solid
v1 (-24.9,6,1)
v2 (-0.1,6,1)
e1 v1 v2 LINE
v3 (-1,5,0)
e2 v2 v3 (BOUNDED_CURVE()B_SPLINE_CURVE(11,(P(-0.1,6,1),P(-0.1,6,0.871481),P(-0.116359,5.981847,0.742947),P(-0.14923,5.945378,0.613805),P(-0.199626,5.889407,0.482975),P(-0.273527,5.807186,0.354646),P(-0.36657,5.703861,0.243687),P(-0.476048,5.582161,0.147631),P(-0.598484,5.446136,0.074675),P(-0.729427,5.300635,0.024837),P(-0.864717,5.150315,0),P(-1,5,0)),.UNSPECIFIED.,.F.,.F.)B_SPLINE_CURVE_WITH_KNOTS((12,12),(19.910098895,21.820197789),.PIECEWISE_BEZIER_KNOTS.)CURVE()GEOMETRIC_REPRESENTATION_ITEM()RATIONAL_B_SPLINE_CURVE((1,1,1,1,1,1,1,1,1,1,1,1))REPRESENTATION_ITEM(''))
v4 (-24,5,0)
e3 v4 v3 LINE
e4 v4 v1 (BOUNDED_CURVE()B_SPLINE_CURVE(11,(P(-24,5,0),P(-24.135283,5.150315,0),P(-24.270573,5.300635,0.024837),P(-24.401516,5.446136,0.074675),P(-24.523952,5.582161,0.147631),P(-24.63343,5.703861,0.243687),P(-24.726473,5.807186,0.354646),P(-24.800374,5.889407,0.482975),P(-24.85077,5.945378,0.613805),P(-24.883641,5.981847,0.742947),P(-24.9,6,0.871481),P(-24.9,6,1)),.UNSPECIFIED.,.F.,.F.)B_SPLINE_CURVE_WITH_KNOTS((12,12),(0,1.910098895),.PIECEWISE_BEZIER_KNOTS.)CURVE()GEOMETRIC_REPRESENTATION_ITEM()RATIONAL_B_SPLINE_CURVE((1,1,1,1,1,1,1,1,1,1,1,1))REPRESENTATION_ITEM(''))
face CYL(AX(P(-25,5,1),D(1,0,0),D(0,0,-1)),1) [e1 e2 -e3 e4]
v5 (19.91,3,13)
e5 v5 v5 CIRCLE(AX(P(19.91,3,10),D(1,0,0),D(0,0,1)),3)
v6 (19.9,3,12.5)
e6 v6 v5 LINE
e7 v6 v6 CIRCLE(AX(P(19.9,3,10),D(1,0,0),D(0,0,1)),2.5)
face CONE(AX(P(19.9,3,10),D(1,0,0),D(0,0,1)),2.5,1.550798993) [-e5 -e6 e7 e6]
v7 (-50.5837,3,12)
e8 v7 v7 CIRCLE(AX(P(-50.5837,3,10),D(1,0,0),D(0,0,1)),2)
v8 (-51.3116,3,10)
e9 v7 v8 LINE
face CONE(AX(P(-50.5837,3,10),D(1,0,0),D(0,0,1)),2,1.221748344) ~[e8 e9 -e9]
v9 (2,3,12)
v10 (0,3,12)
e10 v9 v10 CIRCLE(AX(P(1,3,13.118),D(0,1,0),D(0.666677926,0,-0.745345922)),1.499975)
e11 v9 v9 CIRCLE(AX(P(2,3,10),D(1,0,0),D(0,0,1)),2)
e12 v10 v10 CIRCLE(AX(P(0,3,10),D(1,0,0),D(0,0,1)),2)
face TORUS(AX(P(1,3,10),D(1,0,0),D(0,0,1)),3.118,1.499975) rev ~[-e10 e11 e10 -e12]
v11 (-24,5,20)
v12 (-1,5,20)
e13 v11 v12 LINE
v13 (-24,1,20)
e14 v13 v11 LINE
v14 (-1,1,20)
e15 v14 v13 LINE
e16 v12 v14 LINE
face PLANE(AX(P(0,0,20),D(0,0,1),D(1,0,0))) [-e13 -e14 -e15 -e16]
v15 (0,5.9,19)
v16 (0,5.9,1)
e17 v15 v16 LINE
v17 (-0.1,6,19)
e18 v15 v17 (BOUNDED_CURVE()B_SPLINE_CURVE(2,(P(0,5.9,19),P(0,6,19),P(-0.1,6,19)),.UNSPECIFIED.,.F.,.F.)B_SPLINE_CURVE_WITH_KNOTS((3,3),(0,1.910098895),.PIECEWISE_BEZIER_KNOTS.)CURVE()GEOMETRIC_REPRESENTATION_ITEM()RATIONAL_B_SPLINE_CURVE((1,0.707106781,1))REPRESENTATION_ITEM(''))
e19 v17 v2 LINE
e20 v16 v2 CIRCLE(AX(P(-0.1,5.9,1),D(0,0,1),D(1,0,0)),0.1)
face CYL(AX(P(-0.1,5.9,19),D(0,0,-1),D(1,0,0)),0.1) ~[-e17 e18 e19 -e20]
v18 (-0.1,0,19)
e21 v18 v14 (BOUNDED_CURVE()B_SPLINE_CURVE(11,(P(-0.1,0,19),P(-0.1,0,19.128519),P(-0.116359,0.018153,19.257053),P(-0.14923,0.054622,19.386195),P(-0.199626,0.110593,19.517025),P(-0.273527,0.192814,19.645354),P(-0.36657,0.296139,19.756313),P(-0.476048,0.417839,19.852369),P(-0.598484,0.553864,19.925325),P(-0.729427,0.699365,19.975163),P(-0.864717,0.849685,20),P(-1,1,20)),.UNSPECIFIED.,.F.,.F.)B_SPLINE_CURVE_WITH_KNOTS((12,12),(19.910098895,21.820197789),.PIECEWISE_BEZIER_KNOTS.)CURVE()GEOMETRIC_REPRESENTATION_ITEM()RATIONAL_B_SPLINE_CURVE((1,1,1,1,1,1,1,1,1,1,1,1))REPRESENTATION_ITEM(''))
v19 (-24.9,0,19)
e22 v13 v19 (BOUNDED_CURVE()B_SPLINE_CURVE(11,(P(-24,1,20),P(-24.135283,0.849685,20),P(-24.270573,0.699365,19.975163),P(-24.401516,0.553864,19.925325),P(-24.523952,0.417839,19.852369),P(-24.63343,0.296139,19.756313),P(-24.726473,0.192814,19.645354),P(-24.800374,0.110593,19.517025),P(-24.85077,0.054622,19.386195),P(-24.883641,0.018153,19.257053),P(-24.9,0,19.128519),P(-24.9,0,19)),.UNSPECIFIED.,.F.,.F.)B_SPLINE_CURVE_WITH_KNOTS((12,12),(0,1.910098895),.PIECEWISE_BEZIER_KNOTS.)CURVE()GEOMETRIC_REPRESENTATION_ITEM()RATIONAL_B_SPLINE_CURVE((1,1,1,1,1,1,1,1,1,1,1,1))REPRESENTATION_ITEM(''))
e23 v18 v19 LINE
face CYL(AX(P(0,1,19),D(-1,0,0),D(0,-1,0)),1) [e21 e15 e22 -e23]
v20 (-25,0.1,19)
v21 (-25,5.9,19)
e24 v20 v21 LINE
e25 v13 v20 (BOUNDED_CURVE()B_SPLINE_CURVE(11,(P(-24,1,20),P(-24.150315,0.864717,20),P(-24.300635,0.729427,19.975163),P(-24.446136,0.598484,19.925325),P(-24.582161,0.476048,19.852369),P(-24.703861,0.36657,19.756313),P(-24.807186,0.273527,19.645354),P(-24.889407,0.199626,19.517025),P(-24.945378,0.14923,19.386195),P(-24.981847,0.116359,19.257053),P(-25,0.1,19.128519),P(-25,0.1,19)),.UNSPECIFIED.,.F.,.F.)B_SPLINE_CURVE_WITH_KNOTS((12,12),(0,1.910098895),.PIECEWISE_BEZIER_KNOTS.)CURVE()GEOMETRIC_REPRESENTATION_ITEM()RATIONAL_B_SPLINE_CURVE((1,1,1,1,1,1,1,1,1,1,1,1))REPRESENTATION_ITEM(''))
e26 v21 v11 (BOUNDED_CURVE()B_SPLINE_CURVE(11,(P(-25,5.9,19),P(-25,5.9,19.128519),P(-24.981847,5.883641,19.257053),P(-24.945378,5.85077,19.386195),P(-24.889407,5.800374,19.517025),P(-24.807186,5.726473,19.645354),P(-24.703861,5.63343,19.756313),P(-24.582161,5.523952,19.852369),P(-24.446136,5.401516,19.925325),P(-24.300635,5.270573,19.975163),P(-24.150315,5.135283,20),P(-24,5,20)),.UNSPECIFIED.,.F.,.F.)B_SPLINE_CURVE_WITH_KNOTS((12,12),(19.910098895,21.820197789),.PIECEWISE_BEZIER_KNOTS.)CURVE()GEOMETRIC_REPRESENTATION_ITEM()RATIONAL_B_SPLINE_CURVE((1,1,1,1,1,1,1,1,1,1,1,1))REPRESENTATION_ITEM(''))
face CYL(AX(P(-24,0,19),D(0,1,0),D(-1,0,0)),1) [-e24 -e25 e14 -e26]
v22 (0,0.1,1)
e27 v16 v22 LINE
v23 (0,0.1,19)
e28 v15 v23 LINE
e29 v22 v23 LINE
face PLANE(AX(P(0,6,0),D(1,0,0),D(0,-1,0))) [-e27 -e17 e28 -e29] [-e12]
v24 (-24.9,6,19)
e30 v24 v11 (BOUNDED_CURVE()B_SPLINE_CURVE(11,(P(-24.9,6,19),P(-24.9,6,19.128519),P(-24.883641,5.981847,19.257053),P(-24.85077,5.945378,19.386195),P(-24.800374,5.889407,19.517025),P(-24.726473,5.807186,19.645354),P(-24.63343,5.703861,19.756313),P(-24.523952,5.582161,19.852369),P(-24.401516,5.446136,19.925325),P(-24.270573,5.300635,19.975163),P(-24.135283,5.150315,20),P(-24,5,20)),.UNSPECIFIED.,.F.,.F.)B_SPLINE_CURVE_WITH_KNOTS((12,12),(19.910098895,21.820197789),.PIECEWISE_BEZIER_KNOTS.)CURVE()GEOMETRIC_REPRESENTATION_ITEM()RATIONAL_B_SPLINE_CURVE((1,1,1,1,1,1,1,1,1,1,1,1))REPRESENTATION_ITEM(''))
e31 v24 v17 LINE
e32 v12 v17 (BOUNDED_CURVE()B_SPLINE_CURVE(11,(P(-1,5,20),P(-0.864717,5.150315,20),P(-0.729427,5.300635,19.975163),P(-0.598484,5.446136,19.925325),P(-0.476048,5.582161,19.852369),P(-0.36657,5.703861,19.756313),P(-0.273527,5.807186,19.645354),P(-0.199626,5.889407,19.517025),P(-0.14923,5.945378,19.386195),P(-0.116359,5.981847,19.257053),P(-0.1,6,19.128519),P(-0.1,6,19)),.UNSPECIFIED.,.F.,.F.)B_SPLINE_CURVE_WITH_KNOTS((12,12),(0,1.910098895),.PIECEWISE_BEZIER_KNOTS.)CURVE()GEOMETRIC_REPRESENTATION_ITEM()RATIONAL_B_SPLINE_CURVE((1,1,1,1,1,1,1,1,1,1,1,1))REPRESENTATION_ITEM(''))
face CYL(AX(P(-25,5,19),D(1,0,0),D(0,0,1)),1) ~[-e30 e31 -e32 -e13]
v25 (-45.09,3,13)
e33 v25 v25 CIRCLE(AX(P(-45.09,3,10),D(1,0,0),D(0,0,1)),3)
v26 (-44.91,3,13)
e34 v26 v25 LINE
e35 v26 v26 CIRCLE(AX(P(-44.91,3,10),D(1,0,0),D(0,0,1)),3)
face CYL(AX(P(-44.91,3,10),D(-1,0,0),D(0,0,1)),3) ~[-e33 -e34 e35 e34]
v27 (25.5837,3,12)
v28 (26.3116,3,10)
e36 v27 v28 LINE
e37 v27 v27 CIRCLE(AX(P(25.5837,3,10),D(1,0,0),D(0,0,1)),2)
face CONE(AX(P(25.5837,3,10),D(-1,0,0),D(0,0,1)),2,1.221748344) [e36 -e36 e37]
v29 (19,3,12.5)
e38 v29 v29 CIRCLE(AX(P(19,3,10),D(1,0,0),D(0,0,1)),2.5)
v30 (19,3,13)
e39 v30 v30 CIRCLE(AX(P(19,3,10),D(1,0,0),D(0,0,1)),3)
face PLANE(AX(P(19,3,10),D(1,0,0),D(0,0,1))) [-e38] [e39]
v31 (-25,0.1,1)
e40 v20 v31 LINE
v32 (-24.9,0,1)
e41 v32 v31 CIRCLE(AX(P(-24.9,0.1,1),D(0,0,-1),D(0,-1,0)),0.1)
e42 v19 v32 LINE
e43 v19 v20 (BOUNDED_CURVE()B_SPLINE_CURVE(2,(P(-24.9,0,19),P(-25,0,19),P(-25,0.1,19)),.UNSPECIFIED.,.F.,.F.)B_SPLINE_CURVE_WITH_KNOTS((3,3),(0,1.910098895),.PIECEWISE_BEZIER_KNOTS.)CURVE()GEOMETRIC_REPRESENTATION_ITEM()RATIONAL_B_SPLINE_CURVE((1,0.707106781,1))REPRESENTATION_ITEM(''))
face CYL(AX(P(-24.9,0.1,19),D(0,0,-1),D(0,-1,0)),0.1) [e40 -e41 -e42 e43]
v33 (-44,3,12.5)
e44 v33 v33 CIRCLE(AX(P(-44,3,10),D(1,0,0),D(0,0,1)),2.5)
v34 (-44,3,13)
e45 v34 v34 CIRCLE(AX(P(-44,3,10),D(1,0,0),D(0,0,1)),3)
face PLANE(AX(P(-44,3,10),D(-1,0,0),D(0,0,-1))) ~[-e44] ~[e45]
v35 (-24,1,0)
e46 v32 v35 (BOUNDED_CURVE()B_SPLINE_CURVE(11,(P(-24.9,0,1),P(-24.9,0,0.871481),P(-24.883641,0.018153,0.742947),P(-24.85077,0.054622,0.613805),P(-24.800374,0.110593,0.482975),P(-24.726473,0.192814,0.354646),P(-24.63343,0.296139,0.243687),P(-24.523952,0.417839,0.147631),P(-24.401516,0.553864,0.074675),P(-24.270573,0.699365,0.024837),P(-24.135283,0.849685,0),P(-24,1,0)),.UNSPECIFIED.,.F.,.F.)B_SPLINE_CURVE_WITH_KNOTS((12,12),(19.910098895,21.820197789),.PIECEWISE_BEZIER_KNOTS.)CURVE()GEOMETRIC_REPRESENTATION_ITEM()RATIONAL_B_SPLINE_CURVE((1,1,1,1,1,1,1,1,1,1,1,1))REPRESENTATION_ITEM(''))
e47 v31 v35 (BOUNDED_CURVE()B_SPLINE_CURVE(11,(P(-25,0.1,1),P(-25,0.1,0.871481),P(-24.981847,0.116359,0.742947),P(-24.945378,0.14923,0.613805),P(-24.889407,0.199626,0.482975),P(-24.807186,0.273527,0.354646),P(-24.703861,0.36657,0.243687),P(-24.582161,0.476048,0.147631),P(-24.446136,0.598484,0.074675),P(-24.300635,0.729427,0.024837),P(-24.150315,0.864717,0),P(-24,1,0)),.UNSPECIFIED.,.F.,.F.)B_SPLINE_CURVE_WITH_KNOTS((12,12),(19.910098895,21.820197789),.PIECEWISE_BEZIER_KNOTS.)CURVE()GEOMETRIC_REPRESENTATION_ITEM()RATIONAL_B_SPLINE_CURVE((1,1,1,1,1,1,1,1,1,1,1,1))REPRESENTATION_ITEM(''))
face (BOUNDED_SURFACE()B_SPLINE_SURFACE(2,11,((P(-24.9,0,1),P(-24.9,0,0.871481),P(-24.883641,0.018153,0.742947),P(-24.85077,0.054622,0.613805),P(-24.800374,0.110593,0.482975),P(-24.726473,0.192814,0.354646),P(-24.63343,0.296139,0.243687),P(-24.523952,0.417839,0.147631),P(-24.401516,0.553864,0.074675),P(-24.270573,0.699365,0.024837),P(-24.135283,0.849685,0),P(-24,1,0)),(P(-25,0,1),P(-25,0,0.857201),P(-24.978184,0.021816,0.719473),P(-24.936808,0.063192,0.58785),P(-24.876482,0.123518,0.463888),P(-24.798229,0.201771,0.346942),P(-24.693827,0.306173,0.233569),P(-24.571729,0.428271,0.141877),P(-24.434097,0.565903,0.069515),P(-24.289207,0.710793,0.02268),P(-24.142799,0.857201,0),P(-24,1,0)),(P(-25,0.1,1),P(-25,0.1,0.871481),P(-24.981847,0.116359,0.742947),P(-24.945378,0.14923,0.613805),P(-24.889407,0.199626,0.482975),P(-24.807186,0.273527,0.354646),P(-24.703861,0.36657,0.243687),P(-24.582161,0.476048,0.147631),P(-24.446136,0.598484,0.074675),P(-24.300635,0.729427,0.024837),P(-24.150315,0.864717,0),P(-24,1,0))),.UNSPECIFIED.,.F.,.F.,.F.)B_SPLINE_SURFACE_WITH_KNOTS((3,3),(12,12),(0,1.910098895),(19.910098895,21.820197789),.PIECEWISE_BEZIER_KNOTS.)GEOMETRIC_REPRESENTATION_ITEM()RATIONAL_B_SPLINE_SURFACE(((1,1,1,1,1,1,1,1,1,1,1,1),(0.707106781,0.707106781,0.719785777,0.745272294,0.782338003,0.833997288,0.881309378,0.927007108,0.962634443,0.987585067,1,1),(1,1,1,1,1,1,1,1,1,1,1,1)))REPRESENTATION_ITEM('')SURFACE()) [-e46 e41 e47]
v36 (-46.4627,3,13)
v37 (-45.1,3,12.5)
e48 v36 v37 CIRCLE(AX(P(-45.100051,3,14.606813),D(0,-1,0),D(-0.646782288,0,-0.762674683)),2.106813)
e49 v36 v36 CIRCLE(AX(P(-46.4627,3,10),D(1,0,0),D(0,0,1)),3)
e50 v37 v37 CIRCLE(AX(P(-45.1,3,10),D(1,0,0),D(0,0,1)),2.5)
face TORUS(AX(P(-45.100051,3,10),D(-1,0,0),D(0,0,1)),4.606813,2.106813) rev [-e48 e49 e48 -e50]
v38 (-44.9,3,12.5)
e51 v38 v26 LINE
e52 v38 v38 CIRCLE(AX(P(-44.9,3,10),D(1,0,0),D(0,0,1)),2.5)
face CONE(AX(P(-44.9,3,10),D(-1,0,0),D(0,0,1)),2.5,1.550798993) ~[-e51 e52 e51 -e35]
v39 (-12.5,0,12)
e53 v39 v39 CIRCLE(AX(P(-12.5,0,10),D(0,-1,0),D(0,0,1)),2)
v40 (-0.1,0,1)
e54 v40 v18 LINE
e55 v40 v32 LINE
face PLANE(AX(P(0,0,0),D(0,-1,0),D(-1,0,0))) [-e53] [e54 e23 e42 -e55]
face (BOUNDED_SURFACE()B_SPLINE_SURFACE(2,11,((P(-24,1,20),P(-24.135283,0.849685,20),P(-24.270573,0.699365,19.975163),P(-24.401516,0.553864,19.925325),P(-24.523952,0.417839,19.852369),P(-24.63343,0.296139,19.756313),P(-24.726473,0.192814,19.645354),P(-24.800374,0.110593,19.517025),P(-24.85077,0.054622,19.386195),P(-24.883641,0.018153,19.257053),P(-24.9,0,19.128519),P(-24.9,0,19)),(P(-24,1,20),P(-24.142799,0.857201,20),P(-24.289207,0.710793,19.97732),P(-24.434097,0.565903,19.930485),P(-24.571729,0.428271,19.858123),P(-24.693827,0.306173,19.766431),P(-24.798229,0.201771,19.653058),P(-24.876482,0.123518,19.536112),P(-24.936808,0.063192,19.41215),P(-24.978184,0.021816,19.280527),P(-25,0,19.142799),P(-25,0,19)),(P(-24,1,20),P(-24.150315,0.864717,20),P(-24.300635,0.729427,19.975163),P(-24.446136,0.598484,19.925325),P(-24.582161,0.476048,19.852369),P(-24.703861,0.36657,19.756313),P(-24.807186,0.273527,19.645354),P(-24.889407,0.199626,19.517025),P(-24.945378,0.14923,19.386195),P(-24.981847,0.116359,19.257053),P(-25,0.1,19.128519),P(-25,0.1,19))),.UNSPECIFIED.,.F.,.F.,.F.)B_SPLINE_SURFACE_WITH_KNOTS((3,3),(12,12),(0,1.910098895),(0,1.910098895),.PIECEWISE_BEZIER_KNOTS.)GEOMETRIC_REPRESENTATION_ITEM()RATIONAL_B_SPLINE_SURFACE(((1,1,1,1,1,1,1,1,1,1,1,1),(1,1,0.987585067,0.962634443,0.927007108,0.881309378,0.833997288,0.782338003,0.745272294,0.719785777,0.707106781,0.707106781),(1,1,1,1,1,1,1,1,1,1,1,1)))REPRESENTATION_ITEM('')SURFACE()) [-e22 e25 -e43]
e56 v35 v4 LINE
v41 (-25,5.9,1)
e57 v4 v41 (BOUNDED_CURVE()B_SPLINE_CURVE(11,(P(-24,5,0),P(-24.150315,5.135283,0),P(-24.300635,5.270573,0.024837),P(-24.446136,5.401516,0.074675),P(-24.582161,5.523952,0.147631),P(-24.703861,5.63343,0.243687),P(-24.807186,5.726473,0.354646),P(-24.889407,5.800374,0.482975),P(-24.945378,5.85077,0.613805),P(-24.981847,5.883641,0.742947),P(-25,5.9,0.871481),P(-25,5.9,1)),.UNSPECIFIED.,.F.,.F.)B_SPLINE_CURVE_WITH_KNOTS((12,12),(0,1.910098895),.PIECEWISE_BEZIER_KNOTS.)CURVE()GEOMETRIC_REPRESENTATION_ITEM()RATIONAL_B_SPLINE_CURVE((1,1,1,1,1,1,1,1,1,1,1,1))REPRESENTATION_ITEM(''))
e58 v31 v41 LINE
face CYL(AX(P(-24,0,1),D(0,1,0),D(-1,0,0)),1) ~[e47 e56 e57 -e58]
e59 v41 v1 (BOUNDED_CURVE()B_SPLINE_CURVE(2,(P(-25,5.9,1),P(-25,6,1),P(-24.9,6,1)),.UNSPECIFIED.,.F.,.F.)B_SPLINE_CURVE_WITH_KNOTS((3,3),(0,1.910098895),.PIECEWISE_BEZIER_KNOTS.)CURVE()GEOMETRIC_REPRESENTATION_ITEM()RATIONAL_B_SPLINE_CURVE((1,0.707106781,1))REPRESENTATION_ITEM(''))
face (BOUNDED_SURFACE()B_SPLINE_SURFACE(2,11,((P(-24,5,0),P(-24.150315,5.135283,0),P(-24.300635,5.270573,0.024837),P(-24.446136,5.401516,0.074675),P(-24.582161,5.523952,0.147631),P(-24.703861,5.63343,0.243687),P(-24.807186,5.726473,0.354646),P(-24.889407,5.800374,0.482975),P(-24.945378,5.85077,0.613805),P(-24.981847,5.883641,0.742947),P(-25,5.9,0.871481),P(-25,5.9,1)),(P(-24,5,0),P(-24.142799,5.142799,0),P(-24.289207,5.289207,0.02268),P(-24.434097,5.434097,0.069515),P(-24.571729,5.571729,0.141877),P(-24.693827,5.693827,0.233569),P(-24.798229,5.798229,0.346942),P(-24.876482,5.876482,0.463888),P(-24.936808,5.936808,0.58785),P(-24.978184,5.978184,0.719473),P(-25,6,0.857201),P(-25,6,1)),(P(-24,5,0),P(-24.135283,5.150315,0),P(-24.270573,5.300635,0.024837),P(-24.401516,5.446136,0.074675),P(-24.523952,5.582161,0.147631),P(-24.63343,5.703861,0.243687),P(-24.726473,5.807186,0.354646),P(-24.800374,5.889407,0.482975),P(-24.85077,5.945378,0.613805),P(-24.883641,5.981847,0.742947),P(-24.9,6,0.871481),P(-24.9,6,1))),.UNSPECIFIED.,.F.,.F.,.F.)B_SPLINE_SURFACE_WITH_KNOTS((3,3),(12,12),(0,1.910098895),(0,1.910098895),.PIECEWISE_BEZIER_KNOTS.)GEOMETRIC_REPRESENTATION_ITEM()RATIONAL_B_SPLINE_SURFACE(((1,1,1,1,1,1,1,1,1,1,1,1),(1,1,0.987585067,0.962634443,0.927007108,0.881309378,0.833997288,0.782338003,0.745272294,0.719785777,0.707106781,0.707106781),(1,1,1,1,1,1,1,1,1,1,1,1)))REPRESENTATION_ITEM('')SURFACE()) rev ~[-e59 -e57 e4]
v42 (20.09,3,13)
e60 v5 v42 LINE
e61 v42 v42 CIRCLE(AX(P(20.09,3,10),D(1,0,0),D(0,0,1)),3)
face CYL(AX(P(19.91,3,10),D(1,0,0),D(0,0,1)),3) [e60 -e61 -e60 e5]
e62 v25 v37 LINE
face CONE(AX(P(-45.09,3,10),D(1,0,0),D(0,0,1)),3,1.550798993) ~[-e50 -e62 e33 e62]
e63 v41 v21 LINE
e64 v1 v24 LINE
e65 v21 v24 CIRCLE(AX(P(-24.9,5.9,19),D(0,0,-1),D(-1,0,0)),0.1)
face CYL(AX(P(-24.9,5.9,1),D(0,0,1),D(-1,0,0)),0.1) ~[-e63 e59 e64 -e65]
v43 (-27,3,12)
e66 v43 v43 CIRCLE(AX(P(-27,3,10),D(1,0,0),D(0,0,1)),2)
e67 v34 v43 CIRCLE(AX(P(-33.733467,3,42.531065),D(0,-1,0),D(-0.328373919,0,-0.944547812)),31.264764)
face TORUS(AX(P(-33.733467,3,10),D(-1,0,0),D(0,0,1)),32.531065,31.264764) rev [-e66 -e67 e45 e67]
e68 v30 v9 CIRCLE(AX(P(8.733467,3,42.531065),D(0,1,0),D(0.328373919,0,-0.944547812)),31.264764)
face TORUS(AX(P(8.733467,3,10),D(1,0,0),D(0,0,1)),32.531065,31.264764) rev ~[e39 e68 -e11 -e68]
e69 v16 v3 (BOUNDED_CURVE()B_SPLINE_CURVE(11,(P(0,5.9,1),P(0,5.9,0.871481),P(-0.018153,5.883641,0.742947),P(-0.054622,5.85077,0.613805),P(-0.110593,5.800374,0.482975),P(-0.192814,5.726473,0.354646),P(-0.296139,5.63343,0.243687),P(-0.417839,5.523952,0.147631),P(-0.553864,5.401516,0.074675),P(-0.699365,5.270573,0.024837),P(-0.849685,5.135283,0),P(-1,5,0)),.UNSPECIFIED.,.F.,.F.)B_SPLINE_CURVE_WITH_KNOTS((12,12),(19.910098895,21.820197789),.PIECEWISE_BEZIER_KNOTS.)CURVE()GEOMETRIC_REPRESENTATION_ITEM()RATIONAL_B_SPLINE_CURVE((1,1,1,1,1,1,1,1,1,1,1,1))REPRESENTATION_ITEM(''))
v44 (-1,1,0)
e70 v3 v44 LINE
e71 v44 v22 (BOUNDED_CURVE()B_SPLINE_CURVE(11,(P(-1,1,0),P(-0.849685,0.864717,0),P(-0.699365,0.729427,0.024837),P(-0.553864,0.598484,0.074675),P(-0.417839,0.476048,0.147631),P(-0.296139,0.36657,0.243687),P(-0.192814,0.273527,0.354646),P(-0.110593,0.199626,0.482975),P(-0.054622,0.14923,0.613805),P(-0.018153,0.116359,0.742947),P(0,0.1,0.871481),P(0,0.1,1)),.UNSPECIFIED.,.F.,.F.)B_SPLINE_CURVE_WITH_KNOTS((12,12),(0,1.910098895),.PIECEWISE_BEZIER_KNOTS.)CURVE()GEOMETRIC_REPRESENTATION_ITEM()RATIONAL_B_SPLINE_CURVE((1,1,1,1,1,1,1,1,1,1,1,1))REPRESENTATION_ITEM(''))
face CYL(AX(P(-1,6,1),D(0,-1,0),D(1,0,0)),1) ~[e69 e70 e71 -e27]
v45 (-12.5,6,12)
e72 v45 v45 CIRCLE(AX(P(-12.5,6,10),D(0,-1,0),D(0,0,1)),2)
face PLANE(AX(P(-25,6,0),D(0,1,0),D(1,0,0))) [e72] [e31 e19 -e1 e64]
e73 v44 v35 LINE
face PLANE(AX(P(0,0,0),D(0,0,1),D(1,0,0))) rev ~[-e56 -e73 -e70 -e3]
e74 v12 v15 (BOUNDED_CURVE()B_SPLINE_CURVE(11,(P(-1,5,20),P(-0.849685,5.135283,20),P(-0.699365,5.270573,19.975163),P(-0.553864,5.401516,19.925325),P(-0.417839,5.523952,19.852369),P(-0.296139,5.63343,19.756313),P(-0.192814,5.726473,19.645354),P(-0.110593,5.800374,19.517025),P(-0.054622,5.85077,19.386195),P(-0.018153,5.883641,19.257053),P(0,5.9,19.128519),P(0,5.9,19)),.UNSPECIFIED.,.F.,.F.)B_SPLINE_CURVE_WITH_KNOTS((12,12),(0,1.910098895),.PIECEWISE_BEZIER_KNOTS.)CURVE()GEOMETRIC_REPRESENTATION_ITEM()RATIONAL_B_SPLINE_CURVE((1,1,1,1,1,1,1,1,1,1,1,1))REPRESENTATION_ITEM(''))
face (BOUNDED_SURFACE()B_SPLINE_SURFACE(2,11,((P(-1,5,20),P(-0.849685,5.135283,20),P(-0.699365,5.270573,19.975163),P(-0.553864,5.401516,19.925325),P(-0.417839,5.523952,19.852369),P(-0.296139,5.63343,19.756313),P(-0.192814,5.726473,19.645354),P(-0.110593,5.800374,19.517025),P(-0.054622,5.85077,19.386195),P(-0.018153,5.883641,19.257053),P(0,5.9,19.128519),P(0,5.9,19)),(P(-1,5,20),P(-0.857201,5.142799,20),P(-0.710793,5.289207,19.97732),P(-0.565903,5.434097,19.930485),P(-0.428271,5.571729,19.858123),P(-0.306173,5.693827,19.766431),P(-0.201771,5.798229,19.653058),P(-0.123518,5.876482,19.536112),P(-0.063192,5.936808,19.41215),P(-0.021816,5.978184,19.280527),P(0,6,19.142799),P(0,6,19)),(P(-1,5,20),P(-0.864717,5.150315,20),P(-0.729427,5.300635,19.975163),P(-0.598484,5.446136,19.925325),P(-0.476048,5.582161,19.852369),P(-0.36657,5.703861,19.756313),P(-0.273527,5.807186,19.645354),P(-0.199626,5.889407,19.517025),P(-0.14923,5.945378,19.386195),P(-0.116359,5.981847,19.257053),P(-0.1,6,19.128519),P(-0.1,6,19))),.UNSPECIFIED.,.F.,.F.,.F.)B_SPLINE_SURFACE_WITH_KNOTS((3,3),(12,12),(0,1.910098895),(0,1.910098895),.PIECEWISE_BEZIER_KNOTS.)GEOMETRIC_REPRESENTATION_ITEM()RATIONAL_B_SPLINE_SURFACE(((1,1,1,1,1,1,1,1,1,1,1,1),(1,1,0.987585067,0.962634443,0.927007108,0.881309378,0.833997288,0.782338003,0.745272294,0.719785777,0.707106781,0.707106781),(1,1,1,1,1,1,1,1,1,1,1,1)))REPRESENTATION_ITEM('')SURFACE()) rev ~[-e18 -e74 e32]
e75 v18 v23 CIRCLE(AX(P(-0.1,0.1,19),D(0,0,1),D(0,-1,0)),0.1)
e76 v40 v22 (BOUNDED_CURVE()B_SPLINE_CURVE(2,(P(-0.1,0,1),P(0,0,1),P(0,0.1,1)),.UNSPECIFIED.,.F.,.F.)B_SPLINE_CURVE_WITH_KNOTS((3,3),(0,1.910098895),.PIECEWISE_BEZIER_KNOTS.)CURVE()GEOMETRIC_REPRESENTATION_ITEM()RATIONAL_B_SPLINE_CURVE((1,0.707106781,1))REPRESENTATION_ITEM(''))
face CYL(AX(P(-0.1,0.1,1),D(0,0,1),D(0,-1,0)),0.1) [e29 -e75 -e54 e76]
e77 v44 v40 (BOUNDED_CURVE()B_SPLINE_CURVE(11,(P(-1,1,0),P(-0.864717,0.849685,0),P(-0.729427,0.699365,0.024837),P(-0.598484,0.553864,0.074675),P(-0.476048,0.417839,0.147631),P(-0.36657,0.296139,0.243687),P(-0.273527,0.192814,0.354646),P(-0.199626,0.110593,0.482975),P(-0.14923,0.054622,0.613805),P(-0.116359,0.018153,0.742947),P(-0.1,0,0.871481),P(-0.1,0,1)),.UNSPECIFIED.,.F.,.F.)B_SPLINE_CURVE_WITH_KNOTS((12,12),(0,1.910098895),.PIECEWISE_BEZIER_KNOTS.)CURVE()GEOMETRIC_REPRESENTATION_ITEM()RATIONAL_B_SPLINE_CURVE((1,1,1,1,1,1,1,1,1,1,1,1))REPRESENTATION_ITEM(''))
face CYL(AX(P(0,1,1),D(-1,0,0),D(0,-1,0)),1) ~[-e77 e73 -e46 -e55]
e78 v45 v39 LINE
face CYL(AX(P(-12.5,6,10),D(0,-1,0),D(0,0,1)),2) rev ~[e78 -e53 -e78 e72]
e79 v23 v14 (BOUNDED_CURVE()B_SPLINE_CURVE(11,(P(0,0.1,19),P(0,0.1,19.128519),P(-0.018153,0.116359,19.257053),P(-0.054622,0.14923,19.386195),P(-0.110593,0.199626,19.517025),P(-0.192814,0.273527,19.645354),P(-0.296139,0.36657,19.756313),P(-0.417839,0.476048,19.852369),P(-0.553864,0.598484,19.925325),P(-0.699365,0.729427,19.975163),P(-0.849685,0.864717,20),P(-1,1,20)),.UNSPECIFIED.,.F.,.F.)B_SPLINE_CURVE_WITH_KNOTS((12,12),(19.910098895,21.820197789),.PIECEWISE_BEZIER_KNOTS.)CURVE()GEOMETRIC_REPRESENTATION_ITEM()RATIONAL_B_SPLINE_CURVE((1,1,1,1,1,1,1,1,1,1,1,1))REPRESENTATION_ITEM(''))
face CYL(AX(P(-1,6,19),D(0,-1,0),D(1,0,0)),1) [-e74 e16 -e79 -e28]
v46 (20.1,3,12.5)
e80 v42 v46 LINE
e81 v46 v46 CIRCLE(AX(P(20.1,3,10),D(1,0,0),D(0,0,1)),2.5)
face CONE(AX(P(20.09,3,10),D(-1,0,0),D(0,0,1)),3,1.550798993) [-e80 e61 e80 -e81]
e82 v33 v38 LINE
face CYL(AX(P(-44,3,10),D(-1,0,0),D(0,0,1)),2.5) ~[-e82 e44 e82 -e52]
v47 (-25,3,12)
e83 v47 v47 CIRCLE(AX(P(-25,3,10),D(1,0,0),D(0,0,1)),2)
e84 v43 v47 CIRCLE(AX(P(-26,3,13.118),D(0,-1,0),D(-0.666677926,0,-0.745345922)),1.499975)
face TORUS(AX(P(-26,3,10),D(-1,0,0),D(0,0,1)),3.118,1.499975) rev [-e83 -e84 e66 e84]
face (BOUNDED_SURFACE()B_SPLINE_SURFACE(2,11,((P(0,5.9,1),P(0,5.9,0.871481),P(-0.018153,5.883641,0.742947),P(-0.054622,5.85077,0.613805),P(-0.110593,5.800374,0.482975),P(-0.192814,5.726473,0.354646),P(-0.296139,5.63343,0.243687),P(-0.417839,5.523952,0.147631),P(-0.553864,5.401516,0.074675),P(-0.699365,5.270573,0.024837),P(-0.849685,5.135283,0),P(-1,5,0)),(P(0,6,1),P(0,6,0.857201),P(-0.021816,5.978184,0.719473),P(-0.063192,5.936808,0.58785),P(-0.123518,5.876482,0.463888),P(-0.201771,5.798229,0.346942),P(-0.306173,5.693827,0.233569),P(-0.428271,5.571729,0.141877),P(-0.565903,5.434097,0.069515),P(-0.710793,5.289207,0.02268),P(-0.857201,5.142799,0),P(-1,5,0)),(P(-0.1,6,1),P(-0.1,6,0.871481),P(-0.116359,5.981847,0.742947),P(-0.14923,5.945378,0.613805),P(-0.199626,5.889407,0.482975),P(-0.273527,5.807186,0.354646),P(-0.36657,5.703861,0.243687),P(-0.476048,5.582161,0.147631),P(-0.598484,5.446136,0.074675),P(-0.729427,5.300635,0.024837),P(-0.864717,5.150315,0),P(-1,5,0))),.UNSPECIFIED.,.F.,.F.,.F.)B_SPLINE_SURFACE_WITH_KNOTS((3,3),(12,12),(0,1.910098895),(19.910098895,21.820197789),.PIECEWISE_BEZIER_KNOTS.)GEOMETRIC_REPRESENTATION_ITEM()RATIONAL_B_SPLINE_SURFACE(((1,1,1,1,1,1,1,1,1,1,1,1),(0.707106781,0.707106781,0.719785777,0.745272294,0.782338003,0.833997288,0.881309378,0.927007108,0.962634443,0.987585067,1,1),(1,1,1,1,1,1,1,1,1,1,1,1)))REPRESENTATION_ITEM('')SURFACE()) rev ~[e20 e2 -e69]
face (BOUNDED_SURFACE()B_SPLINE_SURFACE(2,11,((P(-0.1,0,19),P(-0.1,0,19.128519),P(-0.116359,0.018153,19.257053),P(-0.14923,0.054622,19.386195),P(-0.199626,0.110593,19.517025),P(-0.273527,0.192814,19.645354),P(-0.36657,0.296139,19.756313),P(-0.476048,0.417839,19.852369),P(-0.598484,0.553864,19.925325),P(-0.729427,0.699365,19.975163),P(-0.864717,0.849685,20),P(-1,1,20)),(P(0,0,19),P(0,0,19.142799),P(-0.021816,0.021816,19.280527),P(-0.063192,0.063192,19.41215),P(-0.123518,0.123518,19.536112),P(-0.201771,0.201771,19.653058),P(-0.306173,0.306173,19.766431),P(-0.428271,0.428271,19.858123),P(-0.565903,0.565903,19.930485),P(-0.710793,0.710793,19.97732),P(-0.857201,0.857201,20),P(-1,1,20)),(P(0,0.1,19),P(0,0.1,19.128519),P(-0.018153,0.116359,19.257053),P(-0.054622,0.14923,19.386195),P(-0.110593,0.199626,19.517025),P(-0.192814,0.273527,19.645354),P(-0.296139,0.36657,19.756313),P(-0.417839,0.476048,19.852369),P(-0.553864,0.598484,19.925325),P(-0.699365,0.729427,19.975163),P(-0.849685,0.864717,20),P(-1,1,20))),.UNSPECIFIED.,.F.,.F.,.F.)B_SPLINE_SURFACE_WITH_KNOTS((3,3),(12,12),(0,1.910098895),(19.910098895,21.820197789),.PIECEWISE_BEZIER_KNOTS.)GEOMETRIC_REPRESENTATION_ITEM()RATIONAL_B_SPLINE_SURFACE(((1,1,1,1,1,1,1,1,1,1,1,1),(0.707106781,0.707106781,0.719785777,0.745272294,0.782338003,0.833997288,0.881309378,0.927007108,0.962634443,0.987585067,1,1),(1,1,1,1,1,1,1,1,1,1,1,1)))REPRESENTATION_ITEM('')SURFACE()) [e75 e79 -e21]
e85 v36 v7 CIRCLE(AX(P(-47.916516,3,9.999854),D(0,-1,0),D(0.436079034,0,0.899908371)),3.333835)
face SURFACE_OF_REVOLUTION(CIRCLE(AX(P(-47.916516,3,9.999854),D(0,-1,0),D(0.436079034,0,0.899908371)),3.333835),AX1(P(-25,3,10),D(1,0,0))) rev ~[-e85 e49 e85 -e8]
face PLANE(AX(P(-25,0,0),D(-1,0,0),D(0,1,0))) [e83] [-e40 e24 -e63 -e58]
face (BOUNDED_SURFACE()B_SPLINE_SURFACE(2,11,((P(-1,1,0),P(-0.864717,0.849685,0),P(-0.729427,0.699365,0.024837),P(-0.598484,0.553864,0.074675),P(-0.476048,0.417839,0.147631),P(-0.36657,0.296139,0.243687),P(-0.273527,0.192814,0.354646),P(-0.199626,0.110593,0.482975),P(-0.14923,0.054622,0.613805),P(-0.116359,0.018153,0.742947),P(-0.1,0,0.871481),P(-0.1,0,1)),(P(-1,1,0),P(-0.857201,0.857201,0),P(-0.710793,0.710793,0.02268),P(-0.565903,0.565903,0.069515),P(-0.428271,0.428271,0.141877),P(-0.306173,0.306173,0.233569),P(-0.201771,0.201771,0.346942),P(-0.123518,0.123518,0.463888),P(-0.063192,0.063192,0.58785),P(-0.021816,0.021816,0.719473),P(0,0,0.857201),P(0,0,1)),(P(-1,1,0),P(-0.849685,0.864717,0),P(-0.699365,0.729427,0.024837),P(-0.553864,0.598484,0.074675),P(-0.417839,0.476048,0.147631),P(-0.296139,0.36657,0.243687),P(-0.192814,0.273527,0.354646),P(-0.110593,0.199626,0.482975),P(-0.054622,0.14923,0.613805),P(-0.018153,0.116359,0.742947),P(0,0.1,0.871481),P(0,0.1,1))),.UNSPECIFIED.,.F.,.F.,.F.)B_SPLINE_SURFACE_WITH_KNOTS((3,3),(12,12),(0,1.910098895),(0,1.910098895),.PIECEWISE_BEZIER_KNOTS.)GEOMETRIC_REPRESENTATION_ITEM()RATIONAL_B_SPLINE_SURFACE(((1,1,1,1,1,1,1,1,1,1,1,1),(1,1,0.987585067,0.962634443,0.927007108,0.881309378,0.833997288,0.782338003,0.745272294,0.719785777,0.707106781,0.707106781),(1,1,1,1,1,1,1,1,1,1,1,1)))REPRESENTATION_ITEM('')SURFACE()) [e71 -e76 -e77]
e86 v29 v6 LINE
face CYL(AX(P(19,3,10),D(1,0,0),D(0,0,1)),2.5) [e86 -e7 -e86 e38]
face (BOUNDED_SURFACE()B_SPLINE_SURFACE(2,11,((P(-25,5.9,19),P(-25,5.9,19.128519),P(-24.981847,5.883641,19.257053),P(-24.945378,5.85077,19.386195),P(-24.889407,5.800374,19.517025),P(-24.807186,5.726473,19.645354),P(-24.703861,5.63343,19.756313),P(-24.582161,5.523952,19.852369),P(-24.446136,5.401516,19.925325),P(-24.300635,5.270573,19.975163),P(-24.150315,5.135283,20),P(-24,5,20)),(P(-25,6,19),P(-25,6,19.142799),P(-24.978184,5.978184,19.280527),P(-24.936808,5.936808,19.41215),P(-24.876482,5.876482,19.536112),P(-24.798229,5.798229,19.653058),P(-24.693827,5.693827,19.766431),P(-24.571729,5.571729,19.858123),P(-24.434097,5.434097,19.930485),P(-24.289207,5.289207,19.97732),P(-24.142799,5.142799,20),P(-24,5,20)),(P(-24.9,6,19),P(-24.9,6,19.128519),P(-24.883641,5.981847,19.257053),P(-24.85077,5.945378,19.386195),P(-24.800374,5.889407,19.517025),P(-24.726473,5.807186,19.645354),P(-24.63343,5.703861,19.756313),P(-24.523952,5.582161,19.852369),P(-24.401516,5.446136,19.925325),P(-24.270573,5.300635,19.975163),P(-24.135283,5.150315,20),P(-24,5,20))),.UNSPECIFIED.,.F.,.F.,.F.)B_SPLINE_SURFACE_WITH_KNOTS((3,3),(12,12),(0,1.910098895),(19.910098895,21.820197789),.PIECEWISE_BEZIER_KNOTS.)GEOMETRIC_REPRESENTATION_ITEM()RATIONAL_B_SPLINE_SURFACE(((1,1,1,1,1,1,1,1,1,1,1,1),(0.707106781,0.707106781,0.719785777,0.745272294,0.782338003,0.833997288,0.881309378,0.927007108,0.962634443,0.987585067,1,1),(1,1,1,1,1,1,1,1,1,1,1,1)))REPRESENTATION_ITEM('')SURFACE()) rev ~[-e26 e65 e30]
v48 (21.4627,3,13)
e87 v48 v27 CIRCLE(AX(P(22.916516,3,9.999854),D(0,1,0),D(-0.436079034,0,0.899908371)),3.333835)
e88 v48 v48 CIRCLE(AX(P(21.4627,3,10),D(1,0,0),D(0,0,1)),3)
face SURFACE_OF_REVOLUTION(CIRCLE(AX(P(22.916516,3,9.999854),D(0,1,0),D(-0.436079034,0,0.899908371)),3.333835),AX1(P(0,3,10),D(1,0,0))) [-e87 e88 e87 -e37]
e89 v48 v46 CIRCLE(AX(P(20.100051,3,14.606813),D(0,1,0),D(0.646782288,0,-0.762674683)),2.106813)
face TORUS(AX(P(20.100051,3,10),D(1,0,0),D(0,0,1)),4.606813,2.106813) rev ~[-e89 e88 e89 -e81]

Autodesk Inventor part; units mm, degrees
ref_plane "YZ Plane" through (0, 0, 0) normal (1, 0, 0) x (0, 1, 0)
sketch "Sketch1" plane through (0, 0, 0) normal (0, 0, 1) x (1, 0, 0)
  line L0 (0, 0) -> (-25, 0)
  line L1 (-25, 0) -> (-25, 6)
  line L2 (-25, 6) -> (0, 6)
  line L3 (0, 6) -> (0, 0)
  dimension "d0" = 6
  dimension "d1" = 25
extrude "Extrusion1" add sketch "Sketch1" along normal blind 20
ref_plane "Work Plane3" through (-25, 3, 0) normal (0, 1, 0) x (1, 0, 0)
sketch "Sketch4" plane through (-25, 3, 0) normal (0, 1, 0) x (1, 0, 0)
  line L0 (25, 0) -> (25, -20) construction
  line L1 (25, -10) -> (37.1082, -10) construction
  line L2 (25, -10) -> (25, -12)
  arc A0 (44, -13) -> (27, -12) centre (33.7334, -42.5314) ccw
  line L3 (44, -13) -> (44, -12.5)
  line L4 (44, -12.5) -> (44.9, -12.5)
  line L5 (44.9, -12.5) -> (44.91, -13)
  line L6 (45, -17.5) -> (45.09, -13) construction
  arc A1 (46.4627, -13) -> (45.1, -12.5) centre (45.1, -14.6069) ccw
  arc A2 (27, -12) -> (25, -12) centre (26, -13.118) ccw
  line L7 (27, -12) -> (25, -12) construction
  line L8 (44, -13) -> (44.5, -13) construction
  line L9 (45, -17.5) -> (45, -16.5526) construction
  line L10 (44.9, -12.5) -> (23.9137, -12.5) construction
  arc A3 (46.4627, -13) -> (50.5837, -12) centre (47.9165, -10) ccw
  line L11 (50.5837, -12) -> (51.3116, -10)
  line L12 (25, -10) -> (51.3116, -10)
  line L13 (44.91, -13) -> (45.09, -13)
  line L14 (44.91, -13) -> (45, -17.5) construction
  line L15 (45.09, -13) -> (45.1, -12.5)
  line L16 (45.1, -12.5) -> (45.1, -75.802) construction
  dimension "d5" = 5
  dimension "d6" = 6
  dimension "d9" = 2
  dimension "d10" = 1.5
  dimension "d11" = 19
  dimension "d13" = 4
  dimension "d14" = 20
  dimension "d15" = 0.2
  dimension "d20" = 70
  dimension "d21" = 4
  dimension "d23" = 15
  dimension "d24" = 6
revolve "Revolution1" add sketch "Sketch4" angle 360 about axis through (0, 3, 10) along (1, 0, 0)
ref_plane "Work Plane4" through (-12.5, 0, 20) normal (1, 0, 0) x (0, 0, -1)
mirror "Mirror1" about plane through (-12.5, 0, 20) normal (1, 0, 0) of "Revolution1"
fillet "Fillet1" radius 1 8 edges at (-25, 3, 20) (-12.5, 6, 20) (-12.5, 0, 20) (0, 3, 20) (-12.5, 6, 0) (-25, 3, 0) (-12.5, 0, 0) (0, 3, 0)
fillet "Fillet2" radius 0.1 12 edges at (-0.2929, 5.7071, 19.7071) (0, 6, 10) (-0.2929, 0.2929, 19.7071) (0, 0, 10) (-0.2929, 5.7071, 0.2929) (-0.2929, 0.2929, 0.2929) (-24.7071, 0.2929, 0.2929) (-25, 0, 10) (-24.7071, 0.2929, 19.7071) (-24.7071, 5.7071, 19.7071) (-25, 6, 10) (-24.7071, 5.7071, 0.2929)
sketch "Sketch5" plane through (-15.9, 6, 19) normal (0, 1, 0) x (1, 0, 0)
  line L0 (-9, 0) -> (-9, 18) construction
  line L1 (15.8, 0) -> (-9, 0) construction
  line L2 (15.8, 18) -> (15.8, 0) construction
  line L3 (-9, 18) -> (15.8, 18) construction
  point P0 (3.4, 9)
hole "Hole1" at (-12.5, 6, 10) direction (0, -1, 0) diameter 4 end through all
properties part number "Guard" material "Copper"
